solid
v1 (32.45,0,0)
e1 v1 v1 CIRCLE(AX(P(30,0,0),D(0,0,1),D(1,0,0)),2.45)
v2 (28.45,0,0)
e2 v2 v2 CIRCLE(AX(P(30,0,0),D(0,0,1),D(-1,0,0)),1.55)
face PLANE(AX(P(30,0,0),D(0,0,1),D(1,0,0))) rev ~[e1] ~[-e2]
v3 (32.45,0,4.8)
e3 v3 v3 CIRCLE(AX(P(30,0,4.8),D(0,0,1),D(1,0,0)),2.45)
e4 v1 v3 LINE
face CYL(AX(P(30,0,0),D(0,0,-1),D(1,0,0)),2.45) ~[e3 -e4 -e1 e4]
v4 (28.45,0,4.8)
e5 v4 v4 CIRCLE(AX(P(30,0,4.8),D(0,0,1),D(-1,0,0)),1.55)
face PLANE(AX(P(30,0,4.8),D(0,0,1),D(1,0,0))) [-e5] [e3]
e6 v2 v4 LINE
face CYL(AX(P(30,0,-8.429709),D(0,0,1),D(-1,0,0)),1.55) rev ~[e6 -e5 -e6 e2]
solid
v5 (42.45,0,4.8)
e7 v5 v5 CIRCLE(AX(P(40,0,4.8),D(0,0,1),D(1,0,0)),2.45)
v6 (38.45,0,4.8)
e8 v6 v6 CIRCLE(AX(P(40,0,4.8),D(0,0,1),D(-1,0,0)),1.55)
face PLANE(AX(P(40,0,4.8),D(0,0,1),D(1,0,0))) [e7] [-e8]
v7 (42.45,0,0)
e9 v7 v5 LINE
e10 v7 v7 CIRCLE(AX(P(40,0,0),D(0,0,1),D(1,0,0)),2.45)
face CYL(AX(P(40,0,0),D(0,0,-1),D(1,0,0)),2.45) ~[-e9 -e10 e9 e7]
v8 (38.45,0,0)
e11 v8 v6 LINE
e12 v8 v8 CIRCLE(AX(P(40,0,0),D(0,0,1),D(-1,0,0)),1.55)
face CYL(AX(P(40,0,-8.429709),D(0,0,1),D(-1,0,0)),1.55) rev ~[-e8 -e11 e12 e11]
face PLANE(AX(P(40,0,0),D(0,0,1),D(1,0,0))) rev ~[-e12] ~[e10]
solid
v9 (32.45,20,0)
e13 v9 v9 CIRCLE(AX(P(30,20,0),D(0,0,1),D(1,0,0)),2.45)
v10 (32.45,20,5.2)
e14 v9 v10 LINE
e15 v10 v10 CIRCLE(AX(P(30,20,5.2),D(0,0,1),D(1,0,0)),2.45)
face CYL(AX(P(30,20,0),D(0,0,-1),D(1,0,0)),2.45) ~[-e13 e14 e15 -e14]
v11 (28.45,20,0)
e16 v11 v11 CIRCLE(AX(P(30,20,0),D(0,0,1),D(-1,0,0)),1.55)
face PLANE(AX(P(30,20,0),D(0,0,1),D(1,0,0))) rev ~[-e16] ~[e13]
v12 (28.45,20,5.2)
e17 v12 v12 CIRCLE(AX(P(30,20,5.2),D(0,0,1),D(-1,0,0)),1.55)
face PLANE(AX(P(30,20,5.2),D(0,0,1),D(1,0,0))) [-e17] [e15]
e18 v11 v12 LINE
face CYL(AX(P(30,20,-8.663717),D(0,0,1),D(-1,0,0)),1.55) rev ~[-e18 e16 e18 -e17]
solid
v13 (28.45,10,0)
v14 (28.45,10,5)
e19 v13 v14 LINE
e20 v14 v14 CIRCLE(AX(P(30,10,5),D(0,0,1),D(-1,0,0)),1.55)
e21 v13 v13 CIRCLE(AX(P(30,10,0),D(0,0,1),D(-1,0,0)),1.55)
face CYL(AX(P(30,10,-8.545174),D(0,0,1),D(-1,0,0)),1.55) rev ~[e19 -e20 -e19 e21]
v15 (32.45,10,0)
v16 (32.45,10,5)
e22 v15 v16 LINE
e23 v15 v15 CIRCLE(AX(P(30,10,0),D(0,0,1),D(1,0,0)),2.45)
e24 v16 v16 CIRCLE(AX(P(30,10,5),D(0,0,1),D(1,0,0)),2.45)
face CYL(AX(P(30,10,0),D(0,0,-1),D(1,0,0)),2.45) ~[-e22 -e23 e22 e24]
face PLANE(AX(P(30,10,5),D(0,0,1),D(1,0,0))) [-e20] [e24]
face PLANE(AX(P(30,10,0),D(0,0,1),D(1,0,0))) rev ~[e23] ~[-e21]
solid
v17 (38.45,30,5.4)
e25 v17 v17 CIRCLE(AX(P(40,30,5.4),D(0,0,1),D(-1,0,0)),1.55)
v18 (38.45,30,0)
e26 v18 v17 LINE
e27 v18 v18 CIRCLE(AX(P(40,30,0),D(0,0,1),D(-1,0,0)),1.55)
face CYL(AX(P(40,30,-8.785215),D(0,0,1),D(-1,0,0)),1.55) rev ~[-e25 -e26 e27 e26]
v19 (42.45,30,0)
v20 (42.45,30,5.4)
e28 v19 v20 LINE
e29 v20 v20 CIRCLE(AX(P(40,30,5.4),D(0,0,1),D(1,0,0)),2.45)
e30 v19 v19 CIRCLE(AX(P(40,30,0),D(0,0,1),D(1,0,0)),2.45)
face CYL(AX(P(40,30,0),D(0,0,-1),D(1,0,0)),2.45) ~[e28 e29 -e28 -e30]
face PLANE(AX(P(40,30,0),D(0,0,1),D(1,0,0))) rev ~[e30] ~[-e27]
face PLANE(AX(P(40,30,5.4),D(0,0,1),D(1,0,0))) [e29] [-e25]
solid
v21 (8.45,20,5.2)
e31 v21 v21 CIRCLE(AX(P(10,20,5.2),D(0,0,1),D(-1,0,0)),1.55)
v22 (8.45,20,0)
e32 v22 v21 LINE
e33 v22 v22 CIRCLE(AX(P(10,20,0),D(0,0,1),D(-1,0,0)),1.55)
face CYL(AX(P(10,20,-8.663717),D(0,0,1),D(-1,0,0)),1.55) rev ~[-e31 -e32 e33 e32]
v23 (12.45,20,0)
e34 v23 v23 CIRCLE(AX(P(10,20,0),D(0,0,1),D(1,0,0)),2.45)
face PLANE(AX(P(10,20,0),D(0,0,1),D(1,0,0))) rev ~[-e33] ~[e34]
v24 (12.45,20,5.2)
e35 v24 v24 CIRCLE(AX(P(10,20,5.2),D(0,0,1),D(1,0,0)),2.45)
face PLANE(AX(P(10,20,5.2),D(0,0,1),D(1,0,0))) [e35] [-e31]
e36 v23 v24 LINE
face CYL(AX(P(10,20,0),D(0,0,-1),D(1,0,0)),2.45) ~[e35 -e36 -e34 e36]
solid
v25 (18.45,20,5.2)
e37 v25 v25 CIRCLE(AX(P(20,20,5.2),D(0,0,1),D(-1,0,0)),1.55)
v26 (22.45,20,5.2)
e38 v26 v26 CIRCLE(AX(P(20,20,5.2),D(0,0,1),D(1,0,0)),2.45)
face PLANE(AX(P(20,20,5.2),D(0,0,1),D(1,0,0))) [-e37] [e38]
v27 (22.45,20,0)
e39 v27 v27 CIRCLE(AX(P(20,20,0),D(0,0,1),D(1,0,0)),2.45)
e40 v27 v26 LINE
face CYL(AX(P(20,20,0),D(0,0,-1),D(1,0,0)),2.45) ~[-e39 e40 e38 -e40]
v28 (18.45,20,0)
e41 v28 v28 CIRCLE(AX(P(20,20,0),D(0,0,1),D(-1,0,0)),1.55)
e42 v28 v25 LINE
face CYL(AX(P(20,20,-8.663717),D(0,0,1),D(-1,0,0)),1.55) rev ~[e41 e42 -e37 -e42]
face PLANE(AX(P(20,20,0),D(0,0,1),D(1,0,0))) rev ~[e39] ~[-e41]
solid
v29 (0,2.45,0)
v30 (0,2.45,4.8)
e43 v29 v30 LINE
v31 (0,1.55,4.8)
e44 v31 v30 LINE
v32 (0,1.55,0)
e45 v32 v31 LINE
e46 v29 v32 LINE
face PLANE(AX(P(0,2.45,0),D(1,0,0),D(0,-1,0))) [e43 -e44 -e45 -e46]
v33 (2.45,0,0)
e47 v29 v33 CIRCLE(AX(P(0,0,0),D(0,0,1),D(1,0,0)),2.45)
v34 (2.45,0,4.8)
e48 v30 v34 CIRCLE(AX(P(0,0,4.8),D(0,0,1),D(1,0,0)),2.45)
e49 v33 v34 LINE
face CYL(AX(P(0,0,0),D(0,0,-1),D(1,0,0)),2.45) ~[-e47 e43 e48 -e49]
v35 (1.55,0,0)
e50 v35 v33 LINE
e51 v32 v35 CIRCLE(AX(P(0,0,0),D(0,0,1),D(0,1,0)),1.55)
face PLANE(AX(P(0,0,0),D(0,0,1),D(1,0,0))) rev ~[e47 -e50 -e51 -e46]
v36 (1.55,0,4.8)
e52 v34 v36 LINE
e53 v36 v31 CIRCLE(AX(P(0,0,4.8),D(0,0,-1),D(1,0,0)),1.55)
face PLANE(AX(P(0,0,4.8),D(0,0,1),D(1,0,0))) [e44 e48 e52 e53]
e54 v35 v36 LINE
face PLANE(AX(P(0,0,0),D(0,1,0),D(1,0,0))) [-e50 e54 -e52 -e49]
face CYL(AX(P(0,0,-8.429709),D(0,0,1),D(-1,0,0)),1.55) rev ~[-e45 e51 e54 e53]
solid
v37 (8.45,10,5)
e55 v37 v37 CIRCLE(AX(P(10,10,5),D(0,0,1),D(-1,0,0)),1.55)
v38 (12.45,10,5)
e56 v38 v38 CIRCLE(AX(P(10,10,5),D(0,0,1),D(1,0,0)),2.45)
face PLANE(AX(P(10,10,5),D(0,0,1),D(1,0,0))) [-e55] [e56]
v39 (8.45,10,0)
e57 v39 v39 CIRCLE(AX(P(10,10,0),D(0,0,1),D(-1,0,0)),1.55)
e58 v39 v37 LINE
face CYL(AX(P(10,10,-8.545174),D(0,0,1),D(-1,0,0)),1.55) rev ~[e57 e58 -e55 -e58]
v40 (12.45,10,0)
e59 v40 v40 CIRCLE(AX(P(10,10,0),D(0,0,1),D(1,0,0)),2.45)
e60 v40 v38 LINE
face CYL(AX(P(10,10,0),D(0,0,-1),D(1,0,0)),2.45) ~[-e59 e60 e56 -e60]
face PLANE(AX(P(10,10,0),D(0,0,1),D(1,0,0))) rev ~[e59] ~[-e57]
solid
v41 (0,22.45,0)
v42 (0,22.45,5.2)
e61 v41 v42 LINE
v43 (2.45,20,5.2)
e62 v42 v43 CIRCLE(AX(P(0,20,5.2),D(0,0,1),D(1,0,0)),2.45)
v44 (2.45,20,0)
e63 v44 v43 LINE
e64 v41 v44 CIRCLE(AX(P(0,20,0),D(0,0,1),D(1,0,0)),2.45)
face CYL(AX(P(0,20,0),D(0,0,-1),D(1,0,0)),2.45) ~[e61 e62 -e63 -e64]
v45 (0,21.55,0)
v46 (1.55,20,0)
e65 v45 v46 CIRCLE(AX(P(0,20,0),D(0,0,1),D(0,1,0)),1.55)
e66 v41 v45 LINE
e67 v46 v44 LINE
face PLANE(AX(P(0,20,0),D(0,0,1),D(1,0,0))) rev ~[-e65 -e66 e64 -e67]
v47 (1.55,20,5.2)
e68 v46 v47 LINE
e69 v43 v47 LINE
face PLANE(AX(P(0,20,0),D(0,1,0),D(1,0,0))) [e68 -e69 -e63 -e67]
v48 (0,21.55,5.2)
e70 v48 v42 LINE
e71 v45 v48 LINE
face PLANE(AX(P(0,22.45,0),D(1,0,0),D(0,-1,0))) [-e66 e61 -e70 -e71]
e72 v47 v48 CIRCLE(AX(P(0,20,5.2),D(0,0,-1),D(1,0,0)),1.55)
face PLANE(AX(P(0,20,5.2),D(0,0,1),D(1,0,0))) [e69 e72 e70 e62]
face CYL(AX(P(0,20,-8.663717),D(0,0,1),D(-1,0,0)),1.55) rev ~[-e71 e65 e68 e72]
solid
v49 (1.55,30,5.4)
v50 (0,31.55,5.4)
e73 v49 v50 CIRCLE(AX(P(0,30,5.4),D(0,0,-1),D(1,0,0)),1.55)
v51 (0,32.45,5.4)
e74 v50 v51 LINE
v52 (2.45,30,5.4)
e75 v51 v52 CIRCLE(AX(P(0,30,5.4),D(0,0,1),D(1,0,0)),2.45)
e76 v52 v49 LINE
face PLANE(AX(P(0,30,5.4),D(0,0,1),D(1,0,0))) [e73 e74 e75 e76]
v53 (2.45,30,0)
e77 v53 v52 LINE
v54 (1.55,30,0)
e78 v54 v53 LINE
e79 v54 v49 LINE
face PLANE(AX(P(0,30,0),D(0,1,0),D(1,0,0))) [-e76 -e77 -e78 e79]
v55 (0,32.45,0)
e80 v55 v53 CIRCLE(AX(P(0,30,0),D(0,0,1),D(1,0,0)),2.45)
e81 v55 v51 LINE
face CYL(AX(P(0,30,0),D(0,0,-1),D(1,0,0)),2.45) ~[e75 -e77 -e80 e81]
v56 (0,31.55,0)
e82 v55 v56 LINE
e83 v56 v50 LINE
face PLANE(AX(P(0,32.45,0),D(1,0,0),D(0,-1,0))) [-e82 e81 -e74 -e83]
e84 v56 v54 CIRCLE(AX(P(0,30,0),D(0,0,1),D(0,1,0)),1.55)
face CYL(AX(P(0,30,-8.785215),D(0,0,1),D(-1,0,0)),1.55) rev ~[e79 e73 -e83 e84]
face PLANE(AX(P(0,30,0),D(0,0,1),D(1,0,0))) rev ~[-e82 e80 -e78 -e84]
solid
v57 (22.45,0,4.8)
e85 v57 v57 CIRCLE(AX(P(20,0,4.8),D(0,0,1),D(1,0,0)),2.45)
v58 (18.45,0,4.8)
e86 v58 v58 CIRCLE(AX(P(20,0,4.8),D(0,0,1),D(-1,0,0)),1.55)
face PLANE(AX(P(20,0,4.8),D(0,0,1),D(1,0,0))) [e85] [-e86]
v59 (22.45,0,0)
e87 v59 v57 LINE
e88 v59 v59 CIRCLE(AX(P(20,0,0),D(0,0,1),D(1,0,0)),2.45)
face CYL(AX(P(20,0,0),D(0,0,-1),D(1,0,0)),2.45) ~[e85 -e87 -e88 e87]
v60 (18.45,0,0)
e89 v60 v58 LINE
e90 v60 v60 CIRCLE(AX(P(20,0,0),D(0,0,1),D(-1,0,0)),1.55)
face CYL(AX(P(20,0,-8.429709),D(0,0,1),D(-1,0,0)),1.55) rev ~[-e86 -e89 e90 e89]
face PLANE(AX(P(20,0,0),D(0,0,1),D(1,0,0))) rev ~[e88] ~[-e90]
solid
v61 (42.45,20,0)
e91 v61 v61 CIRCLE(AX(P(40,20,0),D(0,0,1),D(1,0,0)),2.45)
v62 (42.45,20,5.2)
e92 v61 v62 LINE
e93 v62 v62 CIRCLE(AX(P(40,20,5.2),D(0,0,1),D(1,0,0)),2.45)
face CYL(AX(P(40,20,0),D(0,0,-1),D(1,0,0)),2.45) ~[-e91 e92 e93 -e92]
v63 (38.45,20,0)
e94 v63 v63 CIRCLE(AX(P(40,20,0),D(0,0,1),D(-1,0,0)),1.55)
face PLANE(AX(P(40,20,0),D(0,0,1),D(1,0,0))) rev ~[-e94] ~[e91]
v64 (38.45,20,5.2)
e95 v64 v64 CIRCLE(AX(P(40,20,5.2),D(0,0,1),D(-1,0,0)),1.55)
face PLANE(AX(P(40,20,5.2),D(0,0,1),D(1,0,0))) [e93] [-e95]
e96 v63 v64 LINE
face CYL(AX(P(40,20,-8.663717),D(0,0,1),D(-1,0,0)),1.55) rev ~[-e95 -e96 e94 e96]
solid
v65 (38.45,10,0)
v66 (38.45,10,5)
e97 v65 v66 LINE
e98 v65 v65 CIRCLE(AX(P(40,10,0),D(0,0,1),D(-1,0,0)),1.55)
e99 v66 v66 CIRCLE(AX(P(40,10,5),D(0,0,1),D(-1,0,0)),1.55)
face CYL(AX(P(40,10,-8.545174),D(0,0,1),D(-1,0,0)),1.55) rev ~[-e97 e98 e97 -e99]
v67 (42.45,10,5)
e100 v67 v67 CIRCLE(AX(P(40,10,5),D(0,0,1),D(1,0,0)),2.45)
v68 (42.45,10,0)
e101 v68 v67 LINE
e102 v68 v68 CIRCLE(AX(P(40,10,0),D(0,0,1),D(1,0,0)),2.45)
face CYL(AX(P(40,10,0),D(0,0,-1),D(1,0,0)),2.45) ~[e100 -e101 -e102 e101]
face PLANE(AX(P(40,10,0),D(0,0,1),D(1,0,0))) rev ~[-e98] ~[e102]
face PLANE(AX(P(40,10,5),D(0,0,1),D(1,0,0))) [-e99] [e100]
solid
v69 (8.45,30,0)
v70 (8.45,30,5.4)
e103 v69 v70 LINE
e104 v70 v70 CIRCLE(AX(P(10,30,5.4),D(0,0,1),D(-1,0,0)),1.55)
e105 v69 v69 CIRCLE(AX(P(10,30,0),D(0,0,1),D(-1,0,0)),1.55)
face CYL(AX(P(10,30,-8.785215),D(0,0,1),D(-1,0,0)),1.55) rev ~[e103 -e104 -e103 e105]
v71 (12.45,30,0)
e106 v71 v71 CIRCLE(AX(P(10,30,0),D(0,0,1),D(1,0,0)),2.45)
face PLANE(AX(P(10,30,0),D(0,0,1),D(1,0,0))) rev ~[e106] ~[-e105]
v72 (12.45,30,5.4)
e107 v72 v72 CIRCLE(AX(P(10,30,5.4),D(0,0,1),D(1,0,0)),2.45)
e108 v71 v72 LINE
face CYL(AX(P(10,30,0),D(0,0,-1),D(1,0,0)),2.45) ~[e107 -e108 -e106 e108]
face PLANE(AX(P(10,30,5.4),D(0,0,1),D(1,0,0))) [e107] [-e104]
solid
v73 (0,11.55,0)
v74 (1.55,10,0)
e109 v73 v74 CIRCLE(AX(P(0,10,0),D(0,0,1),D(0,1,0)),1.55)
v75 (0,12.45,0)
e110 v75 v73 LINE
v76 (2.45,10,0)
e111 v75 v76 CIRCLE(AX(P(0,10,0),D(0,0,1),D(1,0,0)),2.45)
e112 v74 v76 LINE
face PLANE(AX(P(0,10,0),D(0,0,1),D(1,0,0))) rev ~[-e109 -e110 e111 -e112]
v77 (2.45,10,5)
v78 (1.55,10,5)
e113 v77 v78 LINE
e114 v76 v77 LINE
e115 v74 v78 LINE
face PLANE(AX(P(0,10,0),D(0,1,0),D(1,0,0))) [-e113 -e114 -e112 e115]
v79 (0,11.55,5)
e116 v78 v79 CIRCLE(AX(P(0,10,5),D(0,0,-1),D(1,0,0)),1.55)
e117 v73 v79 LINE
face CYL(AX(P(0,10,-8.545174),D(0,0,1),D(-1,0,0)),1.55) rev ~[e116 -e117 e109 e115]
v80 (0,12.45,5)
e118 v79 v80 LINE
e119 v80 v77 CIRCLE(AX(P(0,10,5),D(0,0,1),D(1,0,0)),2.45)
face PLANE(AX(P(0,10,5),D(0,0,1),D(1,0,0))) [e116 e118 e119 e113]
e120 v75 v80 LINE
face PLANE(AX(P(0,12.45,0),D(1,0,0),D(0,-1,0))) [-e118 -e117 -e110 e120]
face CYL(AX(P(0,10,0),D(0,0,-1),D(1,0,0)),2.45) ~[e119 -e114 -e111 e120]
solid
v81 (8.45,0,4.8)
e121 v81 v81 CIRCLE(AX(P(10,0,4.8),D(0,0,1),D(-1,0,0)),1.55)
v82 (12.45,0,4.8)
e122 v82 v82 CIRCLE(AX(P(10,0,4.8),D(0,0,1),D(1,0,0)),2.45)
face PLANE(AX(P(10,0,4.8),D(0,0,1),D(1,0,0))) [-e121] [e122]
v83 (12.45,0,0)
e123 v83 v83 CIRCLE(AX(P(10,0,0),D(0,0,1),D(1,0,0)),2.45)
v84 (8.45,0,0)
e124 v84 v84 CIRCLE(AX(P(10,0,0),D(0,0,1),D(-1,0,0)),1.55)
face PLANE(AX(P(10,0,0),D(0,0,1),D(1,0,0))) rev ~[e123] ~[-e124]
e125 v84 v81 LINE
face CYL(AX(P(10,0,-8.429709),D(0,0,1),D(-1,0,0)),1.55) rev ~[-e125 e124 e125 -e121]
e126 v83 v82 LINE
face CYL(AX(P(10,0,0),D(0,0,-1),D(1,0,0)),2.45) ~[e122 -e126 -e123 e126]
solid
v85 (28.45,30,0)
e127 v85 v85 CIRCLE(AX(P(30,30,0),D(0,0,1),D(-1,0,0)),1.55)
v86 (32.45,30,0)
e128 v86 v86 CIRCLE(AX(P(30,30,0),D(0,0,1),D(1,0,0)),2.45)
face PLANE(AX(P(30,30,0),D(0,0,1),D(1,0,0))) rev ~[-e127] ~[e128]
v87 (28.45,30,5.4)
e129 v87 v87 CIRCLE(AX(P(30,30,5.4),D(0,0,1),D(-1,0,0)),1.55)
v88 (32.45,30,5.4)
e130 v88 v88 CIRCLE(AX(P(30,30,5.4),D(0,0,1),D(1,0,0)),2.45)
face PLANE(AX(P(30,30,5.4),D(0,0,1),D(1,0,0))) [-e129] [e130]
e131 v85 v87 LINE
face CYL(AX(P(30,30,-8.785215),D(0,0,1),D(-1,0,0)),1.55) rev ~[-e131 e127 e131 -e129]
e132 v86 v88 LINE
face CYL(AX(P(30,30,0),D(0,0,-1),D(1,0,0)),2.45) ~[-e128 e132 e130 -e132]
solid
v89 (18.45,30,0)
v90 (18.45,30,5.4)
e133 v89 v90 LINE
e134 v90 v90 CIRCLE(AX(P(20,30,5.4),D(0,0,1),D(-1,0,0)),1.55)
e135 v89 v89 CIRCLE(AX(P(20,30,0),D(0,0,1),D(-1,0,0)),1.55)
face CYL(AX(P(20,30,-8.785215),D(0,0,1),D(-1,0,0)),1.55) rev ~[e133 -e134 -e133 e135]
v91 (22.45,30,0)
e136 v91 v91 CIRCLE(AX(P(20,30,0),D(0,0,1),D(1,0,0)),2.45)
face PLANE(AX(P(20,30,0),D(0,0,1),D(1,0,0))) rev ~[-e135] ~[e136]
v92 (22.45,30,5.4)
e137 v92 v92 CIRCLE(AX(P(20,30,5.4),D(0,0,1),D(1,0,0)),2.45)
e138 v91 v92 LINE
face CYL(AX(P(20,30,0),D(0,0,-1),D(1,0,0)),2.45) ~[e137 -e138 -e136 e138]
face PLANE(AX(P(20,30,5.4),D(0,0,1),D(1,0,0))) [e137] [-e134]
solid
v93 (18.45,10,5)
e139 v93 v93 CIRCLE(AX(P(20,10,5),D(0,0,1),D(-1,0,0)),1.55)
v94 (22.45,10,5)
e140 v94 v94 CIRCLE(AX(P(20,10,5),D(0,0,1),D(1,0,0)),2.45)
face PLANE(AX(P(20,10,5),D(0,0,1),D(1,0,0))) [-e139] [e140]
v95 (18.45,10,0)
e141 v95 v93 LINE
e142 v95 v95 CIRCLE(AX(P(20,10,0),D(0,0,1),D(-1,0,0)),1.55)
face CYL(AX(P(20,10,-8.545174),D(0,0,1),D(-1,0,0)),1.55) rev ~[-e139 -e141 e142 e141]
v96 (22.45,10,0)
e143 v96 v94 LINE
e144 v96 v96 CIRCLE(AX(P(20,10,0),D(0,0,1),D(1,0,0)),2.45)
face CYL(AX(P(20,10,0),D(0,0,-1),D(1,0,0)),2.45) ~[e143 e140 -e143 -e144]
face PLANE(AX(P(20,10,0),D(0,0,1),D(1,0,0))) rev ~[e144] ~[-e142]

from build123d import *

# Parameters (mm, degrees)
F0_R     = 2.45
F1_DEPTH = 4.8
F2_DEPTH = 5
F3_DEPTH = 5.2
F4_DEPTH = 5.4
F5_D     = 3.1
F5_2_D   = 3.1
F5_3_D   = 3.1
F5_4_D   = 3.1
F5_5_D   = 3.1
F5_6_D   = 3.1
F5_7_D   = 3.1
F5_8_D   = 3.1
F5_9_D   = 3.1
F5_10_D  = 3.1
F5_11_D  = 3.1
F5_12_D  = 3.1
F5_13_D  = 3.1
F5_14_D  = 3.1
F5_15_D  = 3.1
F5_16_D  = 3.1
F5_17_D  = 3.1
F5_18_D  = 3.1
F5_19_D  = 3.1
F5_20_D  = 3.1
F7_DEPTH = 5.401


with BuildPart() as f1:
    # F0 (on Top) → F1 (new body)
    with BuildSketch(Plane.XY):
        Circle(F0_R)
    extrude(amount=F1_DEPTH)

    # F5 (through all)
    with Locations(Plane(origin=(0, 0, 0), x_dir=(1, 0, 0), z_dir=(0, 0, -1))):
        with Locations((0, 0), (10, 0), (20, 0), (30, 0), (30, -10), (20, -10), (10, -10), (0, -10), (0, -20), (0, -30), (10, -30), (10, -20), (20, -30), (20, -20), (30, -20), (30, -30), (40, 0), (40, -10), (40, -20), (40, -30)):
            Hole(F5_D / 2)


with BuildPart() as f1b:
    # F0 (on Top) → F1, piece 2 (new body)
    with BuildSketch(Plane.XY):
        with Locations((10, 0)):
            Circle(F0_R)
    extrude(amount=F1_DEPTH)

    # F5#2 (through all)
    with Locations(Plane(origin=(0, 0, 0), x_dir=(1, 0, 0), z_dir=(0, 0, -1))):
        with Locations((0, 0), (10, 0), (20, 0), (30, 0), (30, -10), (20, -10), (10, -10), (0, -10), (0, -20), (0, -30), (10, -30), (10, -20), (20, -30), (20, -20), (30, -20), (30, -30), (40, 0), (40, -10), (40, -20), (40, -30)):
            Hole(F5_2_D / 2)


with BuildPart() as f1c:
    # F0 (on Top) → F1, piece 3 (new body)
    with BuildSketch(Plane.XY):
        with Locations((20, 0)):
            Circle(F0_R)
    extrude(amount=F1_DEPTH)

    # F5#3 (through all)
    with Locations(Plane(origin=(0, 0, 0), x_dir=(1, 0, 0), z_dir=(0, 0, -1))):
        with Locations((0, 0), (10, 0), (20, 0), (30, 0), (30, -10), (20, -10), (10, -10), (0, -10), (0, -20), (0, -30), (10, -30), (10, -20), (20, -30), (20, -20), (30, -20), (30, -30), (40, 0), (40, -10), (40, -20), (40, -30)):
            Hole(F5_3_D / 2)


with BuildPart() as f1d:
    # F0 (on Top) → F1, piece 4 (new body)
    with BuildSketch(Plane.XY):
        with Locations((30, 0)):
            Circle(F0_R)
    extrude(amount=F1_DEPTH)

    # F5#4 (through all)
    with Locations(Plane(origin=(0, 0, 0), x_dir=(1, 0, 0), z_dir=(0, 0, -1))):
        with Locations((0, 0), (10, 0), (20, 0), (30, 0), (30, -10), (20, -10), (10, -10), (0, -10), (0, -20), (0, -30), (10, -30), (10, -20), (20, -30), (20, -20), (30, -20), (30, -30), (40, 0), (40, -10), (40, -20), (40, -30)):
            Hole(F5_4_D / 2)


with BuildPart() as f1e:
    # F0 (on Top) → F1, piece 5 (new body)
    with BuildSketch(Plane.XY):
        with Locations((40, 0)):
            Circle(F0_R)
    extrude(amount=F1_DEPTH)

    # F5#5 (through all)
    with Locations(Plane(origin=(0, 0, 0), x_dir=(1, 0, 0), z_dir=(0, 0, -1))):
        with Locations((0, 0), (10, 0), (20, 0), (30, 0), (30, -10), (20, -10), (10, -10), (0, -10), (0, -20), (0, -30), (10, -30), (10, -20), (20, -30), (20, -20), (30, -20), (30, -30), (40, 0), (40, -10), (40, -20), (40, -30)):
            Hole(F5_5_D / 2)


with BuildPart() as f2:
    # F0 (on Top) → F2 (new body)
    with BuildSketch(Plane.XY):
        with Locations((0, 10)):
            Circle(F0_R)
    extrude(amount=F2_DEPTH)

    # F5#6 (through all)
    with Locations(Plane(origin=(0, 0, 0), x_dir=(1, 0, 0), z_dir=(0, 0, -1))):
        with Locations((0, 0), (10, 0), (20, 0), (30, 0), (30, -10), (20, -10), (10, -10), (0, -10), (0, -20), (0, -30), (10, -30), (10, -20), (20, -30), (20, -20), (30, -20), (30, -30), (40, 0), (40, -10), (40, -20), (40, -30)):
            Hole(F5_6_D / 2)


with BuildPart() as f2b:
    # F0 (on Top) → F2, piece 2 (new body)
    with BuildSketch(Plane.XY):
        with Locations((10, 10)):
            Circle(F0_R)
    extrude(amount=F2_DEPTH)

    # F5#7 (through all)
    with Locations(Plane(origin=(0, 0, 0), x_dir=(1, 0, 0), z_dir=(0, 0, -1))):
        with Locations((0, 0), (10, 0), (20, 0), (30, 0), (30, -10), (20, -10), (10, -10), (0, -10), (0, -20), (0, -30), (10, -30), (10, -20), (20, -30), (20, -20), (30, -20), (30, -30), (40, 0), (40, -10), (40, -20), (40, -30)):
            Hole(F5_7_D / 2)


with BuildPart() as f2c:
    # F0 (on Top) → F2, piece 3 (new body)
    with BuildSketch(Plane.XY):
        with Locations((20, 10)):
            Circle(F0_R)
    extrude(amount=F2_DEPTH)

    # F5#8 (through all)
    with Locations(Plane(origin=(0, 0, 0), x_dir=(1, 0, 0), z_dir=(0, 0, -1))):
        with Locations((0, 0), (10, 0), (20, 0), (30, 0), (30, -10), (20, -10), (10, -10), (0, -10), (0, -20), (0, -30), (10, -30), (10, -20), (20, -30), (20, -20), (30, -20), (30, -30), (40, 0), (40, -10), (40, -20), (40, -30)):
            Hole(F5_8_D / 2)


with BuildPart() as f2d:
    # F0 (on Top) → F2, piece 4 (new body)
    with BuildSketch(Plane.XY):
        with Locations((30, 10)):
            Circle(F0_R)
    extrude(amount=F2_DEPTH)

    # F5#9 (through all)
    with Locations(Plane(origin=(0, 0, 0), x_dir=(1, 0, 0), z_dir=(0, 0, -1))):
        with Locations((0, 0), (10, 0), (20, 0), (30, 0), (30, -10), (20, -10), (10, -10), (0, -10), (0, -20), (0, -30), (10, -30), (10, -20), (20, -30), (20, -20), (30, -20), (30, -30), (40, 0), (40, -10), (40, -20), (40, -30)):
            Hole(F5_9_D / 2)


with BuildPart() as f2e:
    # F0 (on Top) → F2, piece 5 (new body)
    with BuildSketch(Plane.XY):
        with Locations((40, 10)):
            Circle(F0_R)
    extrude(amount=F2_DEPTH)

    # F5#10 (through all)
    with Locations(Plane(origin=(0, 0, 0), x_dir=(1, 0, 0), z_dir=(0, 0, -1))):
        with Locations((0, 0), (10, 0), (20, 0), (30, 0), (30, -10), (20, -10), (10, -10), (0, -10), (0, -20), (0, -30), (10, -30), (10, -20), (20, -30), (20, -20), (30, -20), (30, -30), (40, 0), (40, -10), (40, -20), (40, -30)):
            Hole(F5_10_D / 2)


with BuildPart() as f3:
    # F0 (on Top) → F3 (new body)
    with BuildSketch(Plane.XY):
        with Locations((0, 20)):
            Circle(F0_R)
    extrude(amount=F3_DEPTH)

    # F5#11 (through all)
    with Locations(Plane(origin=(0, 0, 0), x_dir=(1, 0, 0), z_dir=(0, 0, -1))):
        with Locations((0, 0), (10, 0), (20, 0), (30, 0), (30, -10), (20, -10), (10, -10), (0, -10), (0, -20), (0, -30), (10, -30), (10, -20), (20, -30), (20, -20), (30, -20), (30, -30), (40, 0), (40, -10), (40, -20), (40, -30)):
            Hole(F5_11_D / 2)


with BuildPart() as f3b:
    # F0 (on Top) → F3, piece 2 (new body)
    with BuildSketch(Plane.XY):
        with Locations((10, 20)):
            Circle(F0_R)
    extrude(amount=F3_DEPTH)

    # F5#12 (through all)
    with Locations(Plane(origin=(0, 0, 0), x_dir=(1, 0, 0), z_dir=(0, 0, -1))):
        with Locations((0, 0), (10, 0), (20, 0), (30, 0), (30, -10), (20, -10), (10, -10), (0, -10), (0, -20), (0, -30), (10, -30), (10, -20), (20, -30), (20, -20), (30, -20), (30, -30), (40, 0), (40, -10), (40, -20), (40, -30)):
            Hole(F5_12_D / 2)


with BuildPart() as f3c:
    # F0 (on Top) → F3, piece 3 (new body)
    with BuildSketch(Plane.XY):
        with Locations((20, 20)):
            Circle(F0_R)
    extrude(amount=F3_DEPTH)

    # F5#13 (through all)
    with Locations(Plane(origin=(0, 0, 0), x_dir=(1, 0, 0), z_dir=(0, 0, -1))):
        with Locations((0, 0), (10, 0), (20, 0), (30, 0), (30, -10), (20, -10), (10, -10), (0, -10), (0, -20), (0, -30), (10, -30), (10, -20), (20, -30), (20, -20), (30, -20), (30, -30), (40, 0), (40, -10), (40, -20), (40, -30)):
            Hole(F5_13_D / 2)


with BuildPart() as f3d:
    # F0 (on Top) → F3, piece 4 (new body)
    with BuildSketch(Plane.XY):
        with Locations((30, 20)):
            Circle(F0_R)
    extrude(amount=F3_DEPTH)

    # F5#14 (through all)
    with Locations(Plane(origin=(0, 0, 0), x_dir=(1, 0, 0), z_dir=(0, 0, -1))):
        with Locations((0, 0), (10, 0), (20, 0), (30, 0), (30, -10), (20, -10), (10, -10), (0, -10), (0, -20), (0, -30), (10, -30), (10, -20), (20, -30), (20, -20), (30, -20), (30, -30), (40, 0), (40, -10), (40, -20), (40, -30)):
            Hole(F5_14_D / 2)


with BuildPart() as f3e:
    # F0 (on Top) → F3, piece 5 (new body)
    with BuildSketch(Plane.XY):
        with Locations((40, 20)):
            Circle(F0_R)
    extrude(amount=F3_DEPTH)

    # F5#15 (through all)
    with Locations(Plane(origin=(0, 0, 0), x_dir=(1, 0, 0), z_dir=(0, 0, -1))):
        with Locations((0, 0), (10, 0), (20, 0), (30, 0), (30, -10), (20, -10), (10, -10), (0, -10), (0, -20), (0, -30), (10, -30), (10, -20), (20, -30), (20, -20), (30, -20), (30, -30), (40, 0), (40, -10), (40, -20), (40, -30)):
            Hole(F5_15_D / 2)


with BuildPart() as f4:
    # F0 (on Top) → F4 (new body)
    with BuildSketch(Plane.XY):
        with Locations((0, 30)):
            Circle(F0_R)
    extrude(amount=F4_DEPTH)

    # F5#16 (through all)
    with Locations(Plane(origin=(0, 0, 0), x_dir=(1, 0, 0), z_dir=(0, 0, -1))):
        with Locations((0, 0), (10, 0), (20, 0), (30, 0), (30, -10), (20, -10), (10, -10), (0, -10), (0, -20), (0, -30), (10, -30), (10, -20), (20, -30), (20, -20), (30, -20), (30, -30), (40, 0), (40, -10), (40, -20), (40, -30)):
            Hole(F5_16_D / 2)


with BuildPart() as f4b:
    # F0 (on Top) → F4, piece 2 (new body)
    with BuildSketch(Plane.XY):
        with Locations((10, 30)):
            Circle(F0_R)
    extrude(amount=F4_DEPTH)

    # F5#17 (through all)
    with Locations(Plane(origin=(0, 0, 0), x_dir=(1, 0, 0), z_dir=(0, 0, -1))):
        with Locations((0, 0), (10, 0), (20, 0), (30, 0), (30, -10), (20, -10), (10, -10), (0, -10), (0, -20), (0, -30), (10, -30), (10, -20), (20, -30), (20, -20), (30, -20), (30, -30), (40, 0), (40, -10), (40, -20), (40, -30)):
            Hole(F5_17_D / 2)


with BuildPart() as f4c:
    # F0 (on Top) → F4, piece 3 (new body)
    with BuildSketch(Plane.XY):
        with Locations((20, 30)):
            Circle(F0_R)
    extrude(amount=F4_DEPTH)

    # F5#18 (through all)
    with Locations(Plane(origin=(0, 0, 0), x_dir=(1, 0, 0), z_dir=(0, 0, -1))):
        with Locations((0, 0), (10, 0), (20, 0), (30, 0), (30, -10), (20, -10), (10, -10), (0, -10), (0, -20), (0, -30), (10, -30), (10, -20), (20, -30), (20, -20), (30, -20), (30, -30), (40, 0), (40, -10), (40, -20), (40, -30)):
            Hole(F5_18_D / 2)


with BuildPart() as f4d:
    # F0 (on Top) → F4, piece 4 (new body)
    with BuildSketch(Plane.XY):
        with Locations((30, 30)):
            Circle(F0_R)
    extrude(amount=F4_DEPTH)

    # F5#19 (through all)
    with Locations(Plane(origin=(0, 0, 0), x_dir=(1, 0, 0), z_dir=(0, 0, -1))):
        with Locations((0, 0), (10, 0), (20, 0), (30, 0), (30, -10), (20, -10), (10, -10), (0, -10), (0, -20), (0, -30), (10, -30), (10, -20), (20, -30), (20, -20), (30, -20), (30, -30), (40, 0), (40, -10), (40, -20), (40, -30)):
            Hole(F5_19_D / 2)


with BuildPart() as f4e:
    # F0 (on Top) → F4, piece 5 (new body)
    with BuildSketch(Plane.XY):
        with Locations((40, 30)):
            Circle(F0_R)
    extrude(amount=F4_DEPTH)

    # F5#20 (through all)
    with Locations(Plane(origin=(0, 0, 0), x_dir=(1, 0, 0), z_dir=(0, 0, -1))):
        with Locations((0, 0), (10, 0), (20, 0), (30, 0), (30, -10), (20, -10), (10, -10), (0, -10), (0, -20), (0, -30), (10, -30), (10, -20), (20, -30), (20, -20), (30, -20), (30, -30), (40, 0), (40, -10), (40, -20), (40, -30)):
            Hole(F5_20_D / 2)


with BuildPart() as f7_tool:
    # F6 (on Top) → F7 (new body, through all)
    with BuildSketch(Plane.XY):
        with BuildLine():
            ThreePointArc((2.45, 0), (1.7324116139, 1.7324116139), (0, 2.45))
            Line((0, 2.45), (0, 0))
            Line((0, 0), (2.45, 0))
        make_face()
        with BuildLine():
            ThreePointArc((2.45, 10), (1.7324116139, 11.7324116139), (0, 12.45))
            Line((0, 12.45), (0, 10))
            Line((0, 10), (2.45, 10))
        make_face()
        with BuildLine():
            ThreePointArc((2.45, 20), (1.7324116139, 21.7324116139), (0, 22.45))
            Line((0, 22.45), (0, 20))
            Line((0, 20), (2.45, 20))
        make_face()
        with BuildLine():
            ThreePointArc((2.45, 30), (1.7324116139, 31.7324116139), (0, 32.45))
            Line((0, 32.45), (0, 30))
            Line((0, 30), (2.45, 30))
        make_face()
    extrude(amount=F7_DEPTH)


with BuildPart() as f1_1:
    add(f1.part)

    # F7: cut by f7_tool
    add(f7_tool.part, mode=Mode.SUBTRACT)


with BuildPart() as f2_1:
    add(f2.part)

    # F7: cut by f7_tool
    add(f7_tool.part, mode=Mode.SUBTRACT)


with BuildPart() as f3_1:
    add(f3.part)

    # F7: cut by f7_tool
    add(f7_tool.part, mode=Mode.SUBTRACT)


with BuildPart() as f4_1:
    add(f4.part)

    # F7: cut by f7_tool
    add(f7_tool.part, mode=Mode.SUBTRACT)


solid = Compound([f1b.part, f1c.part, f1d.part, f1e.part, f2b.part, f2c.part, f2d.part, f2e.part, f3b.part, f3c.part, f3d.part, f3e.part, f4b.part, f4c.part, f4d.part, f4e.part, f1_1.part, f2_1.part, f3_1.part, f4_1.part])
